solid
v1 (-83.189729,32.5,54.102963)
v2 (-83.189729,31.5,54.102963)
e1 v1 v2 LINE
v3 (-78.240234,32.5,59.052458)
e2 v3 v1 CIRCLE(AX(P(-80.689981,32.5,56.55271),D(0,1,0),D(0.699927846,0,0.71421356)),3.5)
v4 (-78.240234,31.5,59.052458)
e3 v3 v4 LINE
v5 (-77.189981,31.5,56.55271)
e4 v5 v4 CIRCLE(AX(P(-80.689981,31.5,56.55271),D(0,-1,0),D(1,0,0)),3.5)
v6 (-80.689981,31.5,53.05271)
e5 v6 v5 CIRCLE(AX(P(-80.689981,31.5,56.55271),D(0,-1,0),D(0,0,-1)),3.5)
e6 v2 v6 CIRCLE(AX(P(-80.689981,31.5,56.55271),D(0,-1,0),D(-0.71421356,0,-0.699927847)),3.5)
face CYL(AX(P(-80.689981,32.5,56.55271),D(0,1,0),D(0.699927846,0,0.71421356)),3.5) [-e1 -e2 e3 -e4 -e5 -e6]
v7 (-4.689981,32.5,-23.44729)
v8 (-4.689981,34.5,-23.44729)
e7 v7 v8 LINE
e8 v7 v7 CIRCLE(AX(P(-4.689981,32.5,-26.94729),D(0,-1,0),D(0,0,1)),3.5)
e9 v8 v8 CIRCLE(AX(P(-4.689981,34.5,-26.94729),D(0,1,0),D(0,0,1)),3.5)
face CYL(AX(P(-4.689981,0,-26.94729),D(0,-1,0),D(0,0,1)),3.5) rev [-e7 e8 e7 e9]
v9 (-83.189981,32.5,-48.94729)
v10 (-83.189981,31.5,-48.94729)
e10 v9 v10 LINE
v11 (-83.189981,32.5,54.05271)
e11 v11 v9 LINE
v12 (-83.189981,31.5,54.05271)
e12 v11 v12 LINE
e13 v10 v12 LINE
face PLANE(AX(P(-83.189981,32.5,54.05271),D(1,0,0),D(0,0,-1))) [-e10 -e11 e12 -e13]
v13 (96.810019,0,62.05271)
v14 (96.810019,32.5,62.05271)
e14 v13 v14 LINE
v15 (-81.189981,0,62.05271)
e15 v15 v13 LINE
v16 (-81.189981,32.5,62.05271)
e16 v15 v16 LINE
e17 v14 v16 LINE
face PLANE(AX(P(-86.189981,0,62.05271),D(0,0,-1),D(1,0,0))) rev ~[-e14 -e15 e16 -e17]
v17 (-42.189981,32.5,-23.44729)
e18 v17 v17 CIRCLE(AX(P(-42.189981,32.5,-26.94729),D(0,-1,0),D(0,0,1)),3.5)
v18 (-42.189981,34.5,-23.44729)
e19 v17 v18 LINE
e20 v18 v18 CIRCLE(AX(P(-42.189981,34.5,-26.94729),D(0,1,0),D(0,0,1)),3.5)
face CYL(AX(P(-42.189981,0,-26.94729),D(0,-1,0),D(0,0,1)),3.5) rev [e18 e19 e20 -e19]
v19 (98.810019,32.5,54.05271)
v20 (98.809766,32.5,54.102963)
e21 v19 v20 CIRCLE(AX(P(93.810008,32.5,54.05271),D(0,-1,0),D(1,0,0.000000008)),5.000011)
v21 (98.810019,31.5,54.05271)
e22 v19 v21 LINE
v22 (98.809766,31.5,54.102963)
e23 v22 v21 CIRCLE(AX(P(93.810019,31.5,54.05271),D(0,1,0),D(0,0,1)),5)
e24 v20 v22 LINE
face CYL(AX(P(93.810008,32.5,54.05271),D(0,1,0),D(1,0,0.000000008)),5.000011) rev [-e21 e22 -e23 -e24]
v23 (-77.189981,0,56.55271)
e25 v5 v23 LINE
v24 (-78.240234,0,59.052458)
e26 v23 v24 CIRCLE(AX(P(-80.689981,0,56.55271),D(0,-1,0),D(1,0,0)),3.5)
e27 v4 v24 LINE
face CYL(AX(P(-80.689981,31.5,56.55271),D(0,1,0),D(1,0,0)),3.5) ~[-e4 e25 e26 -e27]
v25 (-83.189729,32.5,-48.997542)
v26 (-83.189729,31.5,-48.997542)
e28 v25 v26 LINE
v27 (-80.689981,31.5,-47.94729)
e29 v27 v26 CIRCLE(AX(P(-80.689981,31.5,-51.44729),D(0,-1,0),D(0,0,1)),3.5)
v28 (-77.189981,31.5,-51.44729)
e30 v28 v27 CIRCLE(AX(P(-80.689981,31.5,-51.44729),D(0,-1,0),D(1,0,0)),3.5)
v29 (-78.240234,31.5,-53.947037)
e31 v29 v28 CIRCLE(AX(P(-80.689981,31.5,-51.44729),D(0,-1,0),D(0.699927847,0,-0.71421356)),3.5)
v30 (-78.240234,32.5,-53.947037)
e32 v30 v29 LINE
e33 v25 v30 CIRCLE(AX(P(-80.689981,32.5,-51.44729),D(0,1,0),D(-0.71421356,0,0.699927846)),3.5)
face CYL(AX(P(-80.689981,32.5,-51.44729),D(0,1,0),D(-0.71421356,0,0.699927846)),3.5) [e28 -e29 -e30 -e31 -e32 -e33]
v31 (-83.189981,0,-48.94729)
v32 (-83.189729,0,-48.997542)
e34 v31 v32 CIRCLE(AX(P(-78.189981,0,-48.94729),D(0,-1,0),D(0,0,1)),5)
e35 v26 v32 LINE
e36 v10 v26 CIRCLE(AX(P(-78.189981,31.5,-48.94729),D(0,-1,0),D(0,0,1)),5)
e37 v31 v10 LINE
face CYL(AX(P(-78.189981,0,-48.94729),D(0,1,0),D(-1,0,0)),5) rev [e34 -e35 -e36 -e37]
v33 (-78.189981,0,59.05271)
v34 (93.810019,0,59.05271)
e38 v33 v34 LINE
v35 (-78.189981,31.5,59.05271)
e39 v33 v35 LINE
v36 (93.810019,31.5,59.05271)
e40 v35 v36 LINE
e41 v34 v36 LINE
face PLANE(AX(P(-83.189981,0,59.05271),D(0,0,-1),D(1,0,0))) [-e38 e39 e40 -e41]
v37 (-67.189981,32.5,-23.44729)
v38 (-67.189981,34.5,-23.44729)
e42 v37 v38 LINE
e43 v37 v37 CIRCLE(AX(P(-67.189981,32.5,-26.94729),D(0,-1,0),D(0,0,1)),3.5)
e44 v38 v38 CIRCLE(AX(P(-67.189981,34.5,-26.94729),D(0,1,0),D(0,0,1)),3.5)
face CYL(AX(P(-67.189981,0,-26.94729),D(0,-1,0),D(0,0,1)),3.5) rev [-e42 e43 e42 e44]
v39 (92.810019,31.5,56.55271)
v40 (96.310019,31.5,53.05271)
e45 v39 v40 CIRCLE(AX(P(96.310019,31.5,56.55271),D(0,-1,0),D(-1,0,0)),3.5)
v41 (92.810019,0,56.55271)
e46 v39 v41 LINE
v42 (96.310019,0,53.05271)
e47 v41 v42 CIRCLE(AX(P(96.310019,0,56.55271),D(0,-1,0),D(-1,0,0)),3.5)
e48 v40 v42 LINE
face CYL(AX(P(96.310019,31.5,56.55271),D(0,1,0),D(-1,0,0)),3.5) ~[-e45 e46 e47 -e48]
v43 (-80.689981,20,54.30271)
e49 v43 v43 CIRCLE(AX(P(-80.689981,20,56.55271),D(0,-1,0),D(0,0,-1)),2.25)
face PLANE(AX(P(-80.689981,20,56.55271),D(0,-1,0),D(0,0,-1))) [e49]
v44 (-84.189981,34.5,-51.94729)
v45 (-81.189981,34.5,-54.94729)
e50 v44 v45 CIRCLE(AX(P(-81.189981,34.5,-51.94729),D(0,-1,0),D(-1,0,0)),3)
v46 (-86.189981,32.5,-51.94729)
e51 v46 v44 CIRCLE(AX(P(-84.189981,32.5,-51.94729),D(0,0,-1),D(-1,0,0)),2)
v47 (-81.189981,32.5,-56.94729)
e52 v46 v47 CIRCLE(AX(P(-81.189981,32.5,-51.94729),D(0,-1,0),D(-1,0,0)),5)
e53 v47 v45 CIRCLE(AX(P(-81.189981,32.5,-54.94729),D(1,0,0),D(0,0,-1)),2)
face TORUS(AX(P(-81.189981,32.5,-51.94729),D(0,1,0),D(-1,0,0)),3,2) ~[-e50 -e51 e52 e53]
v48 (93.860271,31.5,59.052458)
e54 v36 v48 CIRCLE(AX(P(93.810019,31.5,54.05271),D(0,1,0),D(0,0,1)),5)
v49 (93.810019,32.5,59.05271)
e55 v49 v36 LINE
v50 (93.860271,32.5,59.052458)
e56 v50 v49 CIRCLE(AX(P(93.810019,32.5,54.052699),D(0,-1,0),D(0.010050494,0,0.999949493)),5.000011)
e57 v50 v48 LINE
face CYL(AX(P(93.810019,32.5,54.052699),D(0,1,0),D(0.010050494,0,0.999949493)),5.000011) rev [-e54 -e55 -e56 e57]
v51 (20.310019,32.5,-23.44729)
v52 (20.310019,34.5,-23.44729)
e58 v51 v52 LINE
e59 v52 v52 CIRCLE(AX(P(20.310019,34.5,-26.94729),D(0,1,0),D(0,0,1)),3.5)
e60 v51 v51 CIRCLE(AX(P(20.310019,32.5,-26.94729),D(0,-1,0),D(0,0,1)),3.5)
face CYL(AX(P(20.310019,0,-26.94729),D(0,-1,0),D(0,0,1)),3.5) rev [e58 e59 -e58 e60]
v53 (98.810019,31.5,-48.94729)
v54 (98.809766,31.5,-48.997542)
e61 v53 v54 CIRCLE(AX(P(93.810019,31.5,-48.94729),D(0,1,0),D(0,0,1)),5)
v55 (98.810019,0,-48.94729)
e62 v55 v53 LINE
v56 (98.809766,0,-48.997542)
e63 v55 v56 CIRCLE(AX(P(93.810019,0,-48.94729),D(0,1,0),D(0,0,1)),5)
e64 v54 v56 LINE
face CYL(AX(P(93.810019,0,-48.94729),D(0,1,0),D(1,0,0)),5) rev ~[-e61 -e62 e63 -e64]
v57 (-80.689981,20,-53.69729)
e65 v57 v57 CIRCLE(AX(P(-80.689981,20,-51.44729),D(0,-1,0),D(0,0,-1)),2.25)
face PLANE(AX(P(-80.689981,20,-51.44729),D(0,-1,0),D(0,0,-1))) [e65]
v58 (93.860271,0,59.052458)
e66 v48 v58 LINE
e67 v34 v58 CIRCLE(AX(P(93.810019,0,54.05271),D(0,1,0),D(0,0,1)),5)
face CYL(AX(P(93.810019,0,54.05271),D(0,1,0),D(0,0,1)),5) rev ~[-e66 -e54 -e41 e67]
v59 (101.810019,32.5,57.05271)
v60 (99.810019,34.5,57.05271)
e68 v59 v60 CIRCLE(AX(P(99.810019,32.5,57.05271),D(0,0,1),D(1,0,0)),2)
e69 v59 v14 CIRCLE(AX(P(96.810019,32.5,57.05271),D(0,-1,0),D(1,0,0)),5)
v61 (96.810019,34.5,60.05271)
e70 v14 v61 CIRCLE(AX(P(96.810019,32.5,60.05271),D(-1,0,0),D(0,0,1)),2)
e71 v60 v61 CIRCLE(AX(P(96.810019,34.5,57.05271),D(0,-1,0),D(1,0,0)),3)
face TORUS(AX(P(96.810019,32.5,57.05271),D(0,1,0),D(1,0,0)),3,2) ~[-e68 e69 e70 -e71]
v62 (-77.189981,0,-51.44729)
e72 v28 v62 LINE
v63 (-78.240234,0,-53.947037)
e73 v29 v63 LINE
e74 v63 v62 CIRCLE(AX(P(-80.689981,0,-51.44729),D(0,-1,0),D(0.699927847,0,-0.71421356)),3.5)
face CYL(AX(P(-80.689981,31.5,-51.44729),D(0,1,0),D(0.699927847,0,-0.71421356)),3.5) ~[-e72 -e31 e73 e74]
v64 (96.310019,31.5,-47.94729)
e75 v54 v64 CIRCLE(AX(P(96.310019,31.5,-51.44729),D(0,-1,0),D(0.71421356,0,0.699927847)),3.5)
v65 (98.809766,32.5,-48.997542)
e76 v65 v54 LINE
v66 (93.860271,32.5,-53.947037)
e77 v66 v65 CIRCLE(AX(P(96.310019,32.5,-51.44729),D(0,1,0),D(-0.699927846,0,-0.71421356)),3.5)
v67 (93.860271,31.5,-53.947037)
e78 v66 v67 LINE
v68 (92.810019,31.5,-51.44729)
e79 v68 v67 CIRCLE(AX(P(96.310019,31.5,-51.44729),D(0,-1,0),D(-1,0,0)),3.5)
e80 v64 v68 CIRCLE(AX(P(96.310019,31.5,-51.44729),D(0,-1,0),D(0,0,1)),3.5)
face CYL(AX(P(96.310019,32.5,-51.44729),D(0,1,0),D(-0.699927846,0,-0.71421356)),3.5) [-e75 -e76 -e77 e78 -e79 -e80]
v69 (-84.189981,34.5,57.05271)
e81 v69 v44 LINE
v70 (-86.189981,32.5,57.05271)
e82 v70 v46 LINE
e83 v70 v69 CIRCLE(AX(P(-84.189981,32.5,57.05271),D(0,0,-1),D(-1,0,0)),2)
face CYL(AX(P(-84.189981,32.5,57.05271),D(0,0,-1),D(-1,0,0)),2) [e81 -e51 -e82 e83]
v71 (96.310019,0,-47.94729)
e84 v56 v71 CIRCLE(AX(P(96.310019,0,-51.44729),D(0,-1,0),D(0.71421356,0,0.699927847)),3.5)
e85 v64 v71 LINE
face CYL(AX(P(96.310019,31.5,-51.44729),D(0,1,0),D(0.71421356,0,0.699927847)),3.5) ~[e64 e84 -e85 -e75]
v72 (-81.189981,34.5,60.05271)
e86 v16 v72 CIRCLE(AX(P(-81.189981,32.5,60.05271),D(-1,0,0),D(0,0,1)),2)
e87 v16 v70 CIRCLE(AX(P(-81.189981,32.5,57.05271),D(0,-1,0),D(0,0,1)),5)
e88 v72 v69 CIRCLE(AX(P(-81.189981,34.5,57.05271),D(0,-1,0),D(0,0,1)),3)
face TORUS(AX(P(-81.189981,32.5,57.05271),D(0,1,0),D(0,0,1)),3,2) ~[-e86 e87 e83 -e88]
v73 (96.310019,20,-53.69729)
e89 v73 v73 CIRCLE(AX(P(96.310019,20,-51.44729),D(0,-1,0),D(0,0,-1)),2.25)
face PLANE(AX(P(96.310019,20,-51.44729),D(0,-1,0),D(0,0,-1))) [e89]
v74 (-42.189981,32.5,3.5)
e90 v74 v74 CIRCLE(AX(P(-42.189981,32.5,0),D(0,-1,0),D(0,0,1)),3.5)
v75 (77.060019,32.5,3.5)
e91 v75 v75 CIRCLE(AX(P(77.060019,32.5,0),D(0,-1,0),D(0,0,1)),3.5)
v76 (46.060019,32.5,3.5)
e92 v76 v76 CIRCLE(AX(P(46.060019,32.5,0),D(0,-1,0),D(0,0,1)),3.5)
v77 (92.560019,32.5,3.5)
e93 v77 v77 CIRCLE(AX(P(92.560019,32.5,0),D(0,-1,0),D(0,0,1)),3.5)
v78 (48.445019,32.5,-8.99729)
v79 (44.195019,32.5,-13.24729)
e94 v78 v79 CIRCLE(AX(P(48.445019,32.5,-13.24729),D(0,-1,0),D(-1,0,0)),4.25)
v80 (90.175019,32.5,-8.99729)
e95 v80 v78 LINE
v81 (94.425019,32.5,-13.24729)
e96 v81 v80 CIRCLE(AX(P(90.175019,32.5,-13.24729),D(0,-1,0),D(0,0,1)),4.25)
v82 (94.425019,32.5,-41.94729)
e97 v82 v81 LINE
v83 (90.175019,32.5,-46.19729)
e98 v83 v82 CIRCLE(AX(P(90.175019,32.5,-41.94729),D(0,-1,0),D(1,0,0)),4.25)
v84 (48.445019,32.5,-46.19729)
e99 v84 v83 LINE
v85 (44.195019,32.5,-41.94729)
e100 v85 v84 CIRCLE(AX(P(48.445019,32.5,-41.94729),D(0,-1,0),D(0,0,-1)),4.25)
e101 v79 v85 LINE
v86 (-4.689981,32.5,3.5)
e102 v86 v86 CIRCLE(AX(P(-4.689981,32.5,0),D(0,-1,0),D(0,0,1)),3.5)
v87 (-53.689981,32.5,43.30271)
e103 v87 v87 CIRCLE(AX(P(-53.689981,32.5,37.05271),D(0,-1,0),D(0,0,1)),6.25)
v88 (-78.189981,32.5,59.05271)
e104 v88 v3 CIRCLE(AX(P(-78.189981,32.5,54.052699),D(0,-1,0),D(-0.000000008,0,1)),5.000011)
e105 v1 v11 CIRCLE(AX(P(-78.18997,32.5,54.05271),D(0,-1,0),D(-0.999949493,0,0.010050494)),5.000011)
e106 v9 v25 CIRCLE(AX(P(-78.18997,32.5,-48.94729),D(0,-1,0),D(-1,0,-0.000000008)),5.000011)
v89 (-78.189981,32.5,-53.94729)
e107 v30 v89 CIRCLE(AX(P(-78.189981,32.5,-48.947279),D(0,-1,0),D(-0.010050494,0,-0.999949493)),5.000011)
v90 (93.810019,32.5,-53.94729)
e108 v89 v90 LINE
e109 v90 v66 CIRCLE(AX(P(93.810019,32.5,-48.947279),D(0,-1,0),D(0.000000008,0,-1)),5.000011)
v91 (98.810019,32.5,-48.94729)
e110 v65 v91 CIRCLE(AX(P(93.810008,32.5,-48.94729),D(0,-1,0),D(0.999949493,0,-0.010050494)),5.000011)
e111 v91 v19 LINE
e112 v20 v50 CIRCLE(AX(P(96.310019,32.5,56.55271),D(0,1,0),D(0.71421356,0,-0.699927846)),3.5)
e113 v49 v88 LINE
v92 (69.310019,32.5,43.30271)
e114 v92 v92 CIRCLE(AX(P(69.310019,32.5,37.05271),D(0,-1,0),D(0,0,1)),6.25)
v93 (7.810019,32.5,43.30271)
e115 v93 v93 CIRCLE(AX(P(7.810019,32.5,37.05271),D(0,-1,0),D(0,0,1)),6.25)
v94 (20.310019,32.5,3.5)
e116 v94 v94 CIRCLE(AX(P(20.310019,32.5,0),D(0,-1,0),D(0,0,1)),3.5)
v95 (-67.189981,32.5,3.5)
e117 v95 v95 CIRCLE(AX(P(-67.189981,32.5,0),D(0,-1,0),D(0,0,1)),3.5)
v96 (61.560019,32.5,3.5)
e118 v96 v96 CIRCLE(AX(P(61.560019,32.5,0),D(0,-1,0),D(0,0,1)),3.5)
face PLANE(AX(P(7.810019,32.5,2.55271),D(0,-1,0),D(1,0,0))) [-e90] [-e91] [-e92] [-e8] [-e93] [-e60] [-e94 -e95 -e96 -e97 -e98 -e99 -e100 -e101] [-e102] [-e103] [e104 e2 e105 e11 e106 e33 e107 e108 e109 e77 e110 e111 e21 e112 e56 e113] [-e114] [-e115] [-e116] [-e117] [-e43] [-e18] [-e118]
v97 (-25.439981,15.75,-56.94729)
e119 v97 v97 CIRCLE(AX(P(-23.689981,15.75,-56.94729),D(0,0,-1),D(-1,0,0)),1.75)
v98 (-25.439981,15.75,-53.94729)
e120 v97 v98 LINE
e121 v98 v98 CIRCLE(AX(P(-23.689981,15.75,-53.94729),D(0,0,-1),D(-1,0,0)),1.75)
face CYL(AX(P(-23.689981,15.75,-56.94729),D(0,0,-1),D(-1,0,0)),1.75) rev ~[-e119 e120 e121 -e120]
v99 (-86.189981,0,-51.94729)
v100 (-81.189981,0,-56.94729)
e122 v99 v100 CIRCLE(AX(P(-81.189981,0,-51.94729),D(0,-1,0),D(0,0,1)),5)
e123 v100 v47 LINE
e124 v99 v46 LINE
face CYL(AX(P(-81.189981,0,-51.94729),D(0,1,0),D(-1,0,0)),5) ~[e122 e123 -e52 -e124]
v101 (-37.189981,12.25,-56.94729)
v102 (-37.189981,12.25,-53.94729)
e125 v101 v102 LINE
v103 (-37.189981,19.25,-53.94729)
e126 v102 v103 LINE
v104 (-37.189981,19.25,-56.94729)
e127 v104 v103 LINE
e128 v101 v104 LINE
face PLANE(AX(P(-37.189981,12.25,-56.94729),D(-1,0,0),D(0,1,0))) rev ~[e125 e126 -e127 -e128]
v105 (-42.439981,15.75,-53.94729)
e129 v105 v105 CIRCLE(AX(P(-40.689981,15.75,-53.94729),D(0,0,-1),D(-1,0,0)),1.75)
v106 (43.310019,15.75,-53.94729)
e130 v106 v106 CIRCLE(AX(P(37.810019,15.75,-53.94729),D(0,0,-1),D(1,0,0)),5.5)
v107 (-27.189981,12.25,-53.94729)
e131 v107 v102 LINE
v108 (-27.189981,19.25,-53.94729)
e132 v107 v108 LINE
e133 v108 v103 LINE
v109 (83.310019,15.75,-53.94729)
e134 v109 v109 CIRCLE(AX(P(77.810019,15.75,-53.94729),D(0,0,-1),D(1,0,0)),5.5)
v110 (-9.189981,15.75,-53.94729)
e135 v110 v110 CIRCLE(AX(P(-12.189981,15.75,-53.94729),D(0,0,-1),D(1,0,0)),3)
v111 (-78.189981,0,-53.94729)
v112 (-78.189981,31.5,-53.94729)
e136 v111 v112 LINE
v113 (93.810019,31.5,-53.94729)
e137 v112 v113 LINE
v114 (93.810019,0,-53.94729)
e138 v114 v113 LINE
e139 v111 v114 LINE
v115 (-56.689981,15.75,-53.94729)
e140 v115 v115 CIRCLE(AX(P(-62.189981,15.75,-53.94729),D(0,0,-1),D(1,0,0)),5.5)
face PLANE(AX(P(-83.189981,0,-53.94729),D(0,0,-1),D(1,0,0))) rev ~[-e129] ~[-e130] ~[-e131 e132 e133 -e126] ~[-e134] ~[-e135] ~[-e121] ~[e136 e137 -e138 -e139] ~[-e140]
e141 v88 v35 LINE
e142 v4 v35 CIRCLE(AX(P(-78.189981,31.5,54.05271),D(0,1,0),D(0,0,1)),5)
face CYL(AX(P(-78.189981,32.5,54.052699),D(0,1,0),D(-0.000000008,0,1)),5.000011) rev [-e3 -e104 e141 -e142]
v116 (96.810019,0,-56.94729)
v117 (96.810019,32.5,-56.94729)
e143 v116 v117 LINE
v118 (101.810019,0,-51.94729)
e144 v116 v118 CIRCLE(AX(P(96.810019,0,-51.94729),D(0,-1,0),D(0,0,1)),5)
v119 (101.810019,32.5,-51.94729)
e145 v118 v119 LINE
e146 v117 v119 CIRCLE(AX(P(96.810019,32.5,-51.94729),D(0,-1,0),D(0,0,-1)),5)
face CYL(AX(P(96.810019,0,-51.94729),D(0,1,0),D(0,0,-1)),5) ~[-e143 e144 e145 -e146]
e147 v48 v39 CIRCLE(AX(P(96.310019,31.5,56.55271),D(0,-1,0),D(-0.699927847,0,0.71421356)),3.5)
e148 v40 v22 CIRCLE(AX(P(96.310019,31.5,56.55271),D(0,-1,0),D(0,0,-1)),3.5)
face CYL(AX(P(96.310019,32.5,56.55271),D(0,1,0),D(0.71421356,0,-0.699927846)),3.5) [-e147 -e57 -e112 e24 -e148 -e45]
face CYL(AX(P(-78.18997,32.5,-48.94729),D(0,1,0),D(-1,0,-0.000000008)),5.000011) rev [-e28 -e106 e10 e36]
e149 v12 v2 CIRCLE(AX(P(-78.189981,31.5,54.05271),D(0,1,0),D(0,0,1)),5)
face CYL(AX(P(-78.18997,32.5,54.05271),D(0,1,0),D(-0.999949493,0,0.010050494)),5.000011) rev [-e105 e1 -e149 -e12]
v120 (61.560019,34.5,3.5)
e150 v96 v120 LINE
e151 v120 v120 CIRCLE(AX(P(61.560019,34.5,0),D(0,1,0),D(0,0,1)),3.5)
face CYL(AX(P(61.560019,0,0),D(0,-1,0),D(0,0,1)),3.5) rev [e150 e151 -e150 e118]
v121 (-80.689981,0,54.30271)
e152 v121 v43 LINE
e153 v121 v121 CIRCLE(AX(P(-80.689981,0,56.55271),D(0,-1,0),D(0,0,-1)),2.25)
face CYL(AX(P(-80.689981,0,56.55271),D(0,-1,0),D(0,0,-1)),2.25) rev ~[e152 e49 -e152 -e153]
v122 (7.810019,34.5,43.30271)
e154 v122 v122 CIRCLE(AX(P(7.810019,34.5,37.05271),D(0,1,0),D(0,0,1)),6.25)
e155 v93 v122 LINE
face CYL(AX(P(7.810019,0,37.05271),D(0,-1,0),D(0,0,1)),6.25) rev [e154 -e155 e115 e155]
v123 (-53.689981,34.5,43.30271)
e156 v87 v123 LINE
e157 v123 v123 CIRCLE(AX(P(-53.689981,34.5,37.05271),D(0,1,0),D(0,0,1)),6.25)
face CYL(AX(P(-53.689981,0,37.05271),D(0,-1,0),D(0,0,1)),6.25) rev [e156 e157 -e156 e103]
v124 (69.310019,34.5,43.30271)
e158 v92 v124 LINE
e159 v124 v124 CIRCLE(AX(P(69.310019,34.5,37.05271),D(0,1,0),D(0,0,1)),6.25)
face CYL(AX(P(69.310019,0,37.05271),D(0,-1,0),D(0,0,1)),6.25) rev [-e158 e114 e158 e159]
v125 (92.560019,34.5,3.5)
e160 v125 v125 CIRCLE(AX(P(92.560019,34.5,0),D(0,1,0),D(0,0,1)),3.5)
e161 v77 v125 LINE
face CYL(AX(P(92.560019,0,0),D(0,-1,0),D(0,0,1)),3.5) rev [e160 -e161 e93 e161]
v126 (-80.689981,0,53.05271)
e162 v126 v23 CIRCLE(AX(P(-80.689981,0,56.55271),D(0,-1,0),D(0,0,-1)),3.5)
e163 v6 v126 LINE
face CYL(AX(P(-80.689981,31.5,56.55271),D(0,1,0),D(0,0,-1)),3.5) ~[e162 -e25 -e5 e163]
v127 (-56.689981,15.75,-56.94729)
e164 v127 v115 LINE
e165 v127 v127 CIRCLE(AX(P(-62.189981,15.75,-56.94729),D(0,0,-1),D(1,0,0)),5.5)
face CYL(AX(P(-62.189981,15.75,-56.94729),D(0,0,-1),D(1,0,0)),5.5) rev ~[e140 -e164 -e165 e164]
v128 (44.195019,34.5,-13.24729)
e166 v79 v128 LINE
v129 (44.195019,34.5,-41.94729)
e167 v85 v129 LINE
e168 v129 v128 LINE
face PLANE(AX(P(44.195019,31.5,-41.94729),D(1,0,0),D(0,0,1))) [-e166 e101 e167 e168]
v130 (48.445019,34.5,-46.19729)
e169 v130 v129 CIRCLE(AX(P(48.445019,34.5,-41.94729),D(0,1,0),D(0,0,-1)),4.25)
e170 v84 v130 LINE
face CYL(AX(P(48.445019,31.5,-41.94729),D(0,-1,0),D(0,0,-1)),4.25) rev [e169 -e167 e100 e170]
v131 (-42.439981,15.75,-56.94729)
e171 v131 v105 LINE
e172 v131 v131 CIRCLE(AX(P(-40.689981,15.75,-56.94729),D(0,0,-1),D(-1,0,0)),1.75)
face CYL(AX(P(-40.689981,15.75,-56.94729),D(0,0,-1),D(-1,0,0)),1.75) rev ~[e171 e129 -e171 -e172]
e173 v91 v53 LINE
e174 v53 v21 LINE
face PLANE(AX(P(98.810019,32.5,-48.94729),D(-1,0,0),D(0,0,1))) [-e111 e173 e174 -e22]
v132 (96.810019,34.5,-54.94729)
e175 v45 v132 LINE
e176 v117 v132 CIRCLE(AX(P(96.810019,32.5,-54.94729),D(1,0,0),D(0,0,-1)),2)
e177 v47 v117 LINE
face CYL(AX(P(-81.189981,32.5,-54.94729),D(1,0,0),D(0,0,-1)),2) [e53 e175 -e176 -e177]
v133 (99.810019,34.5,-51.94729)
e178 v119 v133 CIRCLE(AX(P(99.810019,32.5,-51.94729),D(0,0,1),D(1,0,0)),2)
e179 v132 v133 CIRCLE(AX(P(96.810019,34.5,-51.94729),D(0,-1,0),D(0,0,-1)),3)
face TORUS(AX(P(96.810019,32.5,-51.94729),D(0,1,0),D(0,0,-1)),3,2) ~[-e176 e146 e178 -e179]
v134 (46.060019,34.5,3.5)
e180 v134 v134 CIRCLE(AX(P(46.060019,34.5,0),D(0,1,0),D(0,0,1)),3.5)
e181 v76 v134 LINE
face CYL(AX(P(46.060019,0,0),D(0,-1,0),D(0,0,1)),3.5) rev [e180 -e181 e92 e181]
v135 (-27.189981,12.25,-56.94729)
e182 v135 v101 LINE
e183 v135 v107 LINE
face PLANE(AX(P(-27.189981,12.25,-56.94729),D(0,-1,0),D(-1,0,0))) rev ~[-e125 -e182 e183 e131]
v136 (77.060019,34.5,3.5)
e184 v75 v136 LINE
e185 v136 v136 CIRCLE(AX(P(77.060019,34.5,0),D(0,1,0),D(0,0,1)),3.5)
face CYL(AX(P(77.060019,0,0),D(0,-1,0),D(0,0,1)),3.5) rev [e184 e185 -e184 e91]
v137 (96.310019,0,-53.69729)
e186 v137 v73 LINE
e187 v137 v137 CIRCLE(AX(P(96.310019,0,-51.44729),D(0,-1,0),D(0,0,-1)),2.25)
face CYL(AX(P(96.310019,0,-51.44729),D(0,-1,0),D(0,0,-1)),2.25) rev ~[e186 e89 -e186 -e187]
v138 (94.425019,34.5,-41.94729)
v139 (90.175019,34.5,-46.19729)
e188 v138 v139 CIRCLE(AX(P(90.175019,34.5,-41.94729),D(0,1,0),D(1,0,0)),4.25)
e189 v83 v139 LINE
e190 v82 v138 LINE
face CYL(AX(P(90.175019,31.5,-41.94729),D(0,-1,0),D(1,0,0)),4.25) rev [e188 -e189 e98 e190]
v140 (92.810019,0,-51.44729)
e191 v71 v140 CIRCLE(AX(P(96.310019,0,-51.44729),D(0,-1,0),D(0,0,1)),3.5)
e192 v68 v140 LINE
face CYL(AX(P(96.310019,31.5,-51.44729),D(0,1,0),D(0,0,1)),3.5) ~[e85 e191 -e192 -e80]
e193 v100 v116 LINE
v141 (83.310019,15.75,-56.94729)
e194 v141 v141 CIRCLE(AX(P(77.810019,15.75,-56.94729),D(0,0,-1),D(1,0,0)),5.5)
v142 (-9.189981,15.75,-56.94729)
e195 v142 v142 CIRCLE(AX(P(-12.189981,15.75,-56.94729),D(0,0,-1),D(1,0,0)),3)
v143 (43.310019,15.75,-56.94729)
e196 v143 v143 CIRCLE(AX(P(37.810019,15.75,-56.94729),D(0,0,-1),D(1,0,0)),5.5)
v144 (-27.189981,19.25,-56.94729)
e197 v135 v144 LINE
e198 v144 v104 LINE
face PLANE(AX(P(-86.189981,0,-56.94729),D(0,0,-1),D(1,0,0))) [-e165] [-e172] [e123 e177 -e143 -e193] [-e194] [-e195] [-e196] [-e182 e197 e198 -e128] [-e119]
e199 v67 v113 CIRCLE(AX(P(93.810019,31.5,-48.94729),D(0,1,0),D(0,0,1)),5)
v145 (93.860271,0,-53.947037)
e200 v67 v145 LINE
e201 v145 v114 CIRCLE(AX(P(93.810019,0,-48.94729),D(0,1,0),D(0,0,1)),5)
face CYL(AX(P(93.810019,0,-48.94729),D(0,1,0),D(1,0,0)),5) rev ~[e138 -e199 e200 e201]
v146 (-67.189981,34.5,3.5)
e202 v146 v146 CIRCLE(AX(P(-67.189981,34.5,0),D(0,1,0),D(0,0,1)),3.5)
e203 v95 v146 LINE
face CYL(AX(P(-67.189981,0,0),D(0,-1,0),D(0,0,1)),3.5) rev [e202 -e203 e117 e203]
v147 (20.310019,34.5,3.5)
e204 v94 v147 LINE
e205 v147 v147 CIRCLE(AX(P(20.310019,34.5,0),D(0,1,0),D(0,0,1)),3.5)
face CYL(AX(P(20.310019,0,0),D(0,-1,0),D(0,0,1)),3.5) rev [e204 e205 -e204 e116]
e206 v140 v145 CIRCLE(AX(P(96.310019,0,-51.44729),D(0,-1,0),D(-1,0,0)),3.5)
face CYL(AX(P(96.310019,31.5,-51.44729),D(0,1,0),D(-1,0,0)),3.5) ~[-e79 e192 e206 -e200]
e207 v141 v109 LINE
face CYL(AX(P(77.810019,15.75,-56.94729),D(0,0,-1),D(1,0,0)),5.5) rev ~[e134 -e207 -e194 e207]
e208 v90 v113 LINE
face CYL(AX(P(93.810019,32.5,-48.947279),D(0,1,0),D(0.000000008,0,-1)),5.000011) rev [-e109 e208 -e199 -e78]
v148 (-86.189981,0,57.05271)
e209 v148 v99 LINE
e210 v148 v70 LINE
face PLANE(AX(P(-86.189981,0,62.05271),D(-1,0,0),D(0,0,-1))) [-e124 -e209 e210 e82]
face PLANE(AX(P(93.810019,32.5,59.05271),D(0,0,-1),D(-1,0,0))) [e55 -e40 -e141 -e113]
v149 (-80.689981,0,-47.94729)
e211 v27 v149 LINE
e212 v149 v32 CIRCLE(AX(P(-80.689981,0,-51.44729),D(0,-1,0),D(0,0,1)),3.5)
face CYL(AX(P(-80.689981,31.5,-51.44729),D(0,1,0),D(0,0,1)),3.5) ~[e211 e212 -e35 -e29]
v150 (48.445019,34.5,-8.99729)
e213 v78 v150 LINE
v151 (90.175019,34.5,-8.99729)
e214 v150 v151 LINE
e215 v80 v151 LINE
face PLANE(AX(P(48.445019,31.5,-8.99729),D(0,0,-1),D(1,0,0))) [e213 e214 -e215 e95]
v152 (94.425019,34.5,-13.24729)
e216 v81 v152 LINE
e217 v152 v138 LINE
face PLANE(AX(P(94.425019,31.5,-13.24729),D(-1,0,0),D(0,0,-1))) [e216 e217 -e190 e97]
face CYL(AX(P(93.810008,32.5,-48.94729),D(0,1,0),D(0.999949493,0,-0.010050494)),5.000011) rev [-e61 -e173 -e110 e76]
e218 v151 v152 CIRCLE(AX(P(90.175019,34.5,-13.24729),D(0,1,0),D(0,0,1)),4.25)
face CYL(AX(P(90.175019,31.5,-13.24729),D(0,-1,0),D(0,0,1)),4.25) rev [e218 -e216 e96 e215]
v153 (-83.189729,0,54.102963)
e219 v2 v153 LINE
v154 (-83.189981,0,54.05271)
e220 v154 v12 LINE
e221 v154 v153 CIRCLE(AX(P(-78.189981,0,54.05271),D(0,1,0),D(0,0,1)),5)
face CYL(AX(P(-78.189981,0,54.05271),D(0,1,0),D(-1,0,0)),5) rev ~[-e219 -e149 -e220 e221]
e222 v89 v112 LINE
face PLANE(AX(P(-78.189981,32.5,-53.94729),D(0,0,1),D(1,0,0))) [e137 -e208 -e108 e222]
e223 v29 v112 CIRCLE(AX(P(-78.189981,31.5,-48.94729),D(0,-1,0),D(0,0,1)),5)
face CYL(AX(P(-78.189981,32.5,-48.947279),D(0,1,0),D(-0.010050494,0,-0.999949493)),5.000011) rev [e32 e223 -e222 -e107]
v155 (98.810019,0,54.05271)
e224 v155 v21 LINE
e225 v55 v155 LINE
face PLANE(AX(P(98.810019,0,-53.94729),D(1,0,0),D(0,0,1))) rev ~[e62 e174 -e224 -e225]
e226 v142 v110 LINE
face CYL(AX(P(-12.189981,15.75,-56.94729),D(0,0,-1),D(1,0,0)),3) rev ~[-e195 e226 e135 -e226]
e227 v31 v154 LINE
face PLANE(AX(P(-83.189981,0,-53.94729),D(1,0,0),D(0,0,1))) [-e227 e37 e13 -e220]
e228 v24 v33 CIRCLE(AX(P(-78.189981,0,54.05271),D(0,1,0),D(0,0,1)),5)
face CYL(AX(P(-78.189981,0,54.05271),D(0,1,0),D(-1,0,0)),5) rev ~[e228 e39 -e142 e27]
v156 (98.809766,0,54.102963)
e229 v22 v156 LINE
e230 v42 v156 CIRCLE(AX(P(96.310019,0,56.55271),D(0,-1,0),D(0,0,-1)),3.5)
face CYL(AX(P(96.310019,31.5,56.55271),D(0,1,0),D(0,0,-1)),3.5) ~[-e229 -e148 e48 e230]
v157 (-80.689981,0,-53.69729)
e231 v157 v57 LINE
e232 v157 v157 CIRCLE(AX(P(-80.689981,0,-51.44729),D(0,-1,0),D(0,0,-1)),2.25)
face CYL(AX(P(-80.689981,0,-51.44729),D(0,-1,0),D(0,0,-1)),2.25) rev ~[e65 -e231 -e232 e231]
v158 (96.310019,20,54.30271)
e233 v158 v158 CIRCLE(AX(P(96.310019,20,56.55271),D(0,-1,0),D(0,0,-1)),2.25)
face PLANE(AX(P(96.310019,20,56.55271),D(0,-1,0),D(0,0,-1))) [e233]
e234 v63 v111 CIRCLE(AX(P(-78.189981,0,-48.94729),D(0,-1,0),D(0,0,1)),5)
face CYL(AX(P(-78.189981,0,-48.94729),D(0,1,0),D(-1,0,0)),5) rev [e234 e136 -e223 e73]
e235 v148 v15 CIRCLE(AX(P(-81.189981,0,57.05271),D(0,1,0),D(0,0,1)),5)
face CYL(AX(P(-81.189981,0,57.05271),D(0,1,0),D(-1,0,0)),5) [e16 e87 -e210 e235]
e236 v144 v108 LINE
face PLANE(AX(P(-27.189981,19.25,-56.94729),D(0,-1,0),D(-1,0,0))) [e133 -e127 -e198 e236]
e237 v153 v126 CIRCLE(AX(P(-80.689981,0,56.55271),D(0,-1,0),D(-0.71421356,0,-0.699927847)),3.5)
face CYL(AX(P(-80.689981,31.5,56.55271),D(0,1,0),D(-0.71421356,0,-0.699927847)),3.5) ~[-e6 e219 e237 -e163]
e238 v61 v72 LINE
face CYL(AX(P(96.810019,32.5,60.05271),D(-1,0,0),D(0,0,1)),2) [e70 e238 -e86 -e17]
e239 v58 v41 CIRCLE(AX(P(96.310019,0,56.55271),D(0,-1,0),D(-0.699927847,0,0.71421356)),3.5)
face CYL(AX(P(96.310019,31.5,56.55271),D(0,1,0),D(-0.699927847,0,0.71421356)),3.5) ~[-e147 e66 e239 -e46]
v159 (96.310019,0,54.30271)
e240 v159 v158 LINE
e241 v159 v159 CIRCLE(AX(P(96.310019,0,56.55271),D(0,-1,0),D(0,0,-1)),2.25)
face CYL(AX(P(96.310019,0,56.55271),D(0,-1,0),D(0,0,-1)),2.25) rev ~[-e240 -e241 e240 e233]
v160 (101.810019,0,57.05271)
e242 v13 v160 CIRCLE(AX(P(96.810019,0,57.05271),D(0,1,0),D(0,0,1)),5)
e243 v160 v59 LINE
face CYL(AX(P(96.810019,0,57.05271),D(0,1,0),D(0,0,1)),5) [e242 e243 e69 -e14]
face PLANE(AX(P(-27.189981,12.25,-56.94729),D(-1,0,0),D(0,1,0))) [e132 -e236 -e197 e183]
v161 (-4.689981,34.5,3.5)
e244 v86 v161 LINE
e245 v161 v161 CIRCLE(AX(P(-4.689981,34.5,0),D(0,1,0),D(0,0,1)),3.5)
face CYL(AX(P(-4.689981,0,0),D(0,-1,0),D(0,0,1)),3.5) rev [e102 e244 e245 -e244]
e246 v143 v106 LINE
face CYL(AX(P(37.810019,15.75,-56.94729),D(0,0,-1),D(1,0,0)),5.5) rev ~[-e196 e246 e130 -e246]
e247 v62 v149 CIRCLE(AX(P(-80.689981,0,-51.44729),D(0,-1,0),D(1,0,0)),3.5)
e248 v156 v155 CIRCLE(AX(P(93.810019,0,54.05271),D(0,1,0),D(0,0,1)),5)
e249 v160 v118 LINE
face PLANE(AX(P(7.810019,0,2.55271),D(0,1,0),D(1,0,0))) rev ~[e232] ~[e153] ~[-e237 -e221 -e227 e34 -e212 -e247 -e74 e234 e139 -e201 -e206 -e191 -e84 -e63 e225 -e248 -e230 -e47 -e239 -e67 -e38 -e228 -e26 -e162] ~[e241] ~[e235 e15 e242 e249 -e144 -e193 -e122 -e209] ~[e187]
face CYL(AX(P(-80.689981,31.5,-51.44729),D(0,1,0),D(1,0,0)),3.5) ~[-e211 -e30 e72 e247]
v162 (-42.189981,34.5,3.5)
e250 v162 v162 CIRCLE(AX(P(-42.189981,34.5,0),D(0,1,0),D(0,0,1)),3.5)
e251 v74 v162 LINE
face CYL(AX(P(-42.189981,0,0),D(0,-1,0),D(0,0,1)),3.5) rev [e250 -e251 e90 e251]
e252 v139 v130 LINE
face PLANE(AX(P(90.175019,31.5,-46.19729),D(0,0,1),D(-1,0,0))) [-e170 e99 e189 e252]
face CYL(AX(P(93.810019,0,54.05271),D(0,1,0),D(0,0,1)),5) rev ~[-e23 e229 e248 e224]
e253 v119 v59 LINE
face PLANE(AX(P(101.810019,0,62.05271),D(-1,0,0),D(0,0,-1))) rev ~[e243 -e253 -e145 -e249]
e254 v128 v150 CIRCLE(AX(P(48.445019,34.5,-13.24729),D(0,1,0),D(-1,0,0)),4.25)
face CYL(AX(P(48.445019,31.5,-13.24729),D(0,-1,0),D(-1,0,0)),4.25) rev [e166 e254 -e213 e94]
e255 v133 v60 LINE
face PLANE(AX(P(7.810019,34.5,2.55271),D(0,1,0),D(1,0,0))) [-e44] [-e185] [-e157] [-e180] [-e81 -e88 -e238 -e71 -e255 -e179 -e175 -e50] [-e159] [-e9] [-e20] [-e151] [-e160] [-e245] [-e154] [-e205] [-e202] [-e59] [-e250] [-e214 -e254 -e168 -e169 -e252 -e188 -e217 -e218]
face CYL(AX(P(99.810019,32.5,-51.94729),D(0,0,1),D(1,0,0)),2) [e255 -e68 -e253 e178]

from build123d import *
from build123d.topology import SkipClean

# Parameters (mm, degrees)
SKETCH_1_W          = 188
SKETCH_1_H          = 119
SKETCH_1_R          = 3.5
SKETCH_1_R_2        = 6.25
EXTRUDE_1_DEPTH     = 34.5
SKETCH_3_W          = 182
SKETCH_3_H          = 113
CUT_EXTRUDE_2_DEPTH = 31.5
CUT_EXTRUDE_START   = -3
CUT_EXTRUDE_1_DEPTH = 3
FILLET_1_R          = 5
EXTRUDE_2_DEPTH     = 31.5
SKETCH_6_R          = 2.25
CUT_EXTRUDE_3_DEPTH = 20
FILLET_2_R          = 2
SKETCH_7_W          = 10
SKETCH_7_H          = 7
SKETCH_7_R          = 1.75
CUT_EXTRUDE_4_DEPTH = 20
CUT_EXTRUDE_START_2 = -1
CUT_EXTRUDE_5_DEPTH = 1


with BuildPart() as part:
    # 草图1 → 凸台-拉伸1 (new body)
    with BuildSketch(Plane(origin=(0, 0, 0), x_dir=(1, 0, 0), z_dir=(0, 1, 0))):
        with Locations((7.810018722, -2.552710251)):
            Rectangle(SKETCH_1_W, SKETCH_1_H)
        with Locations(Location((-67.189981278, 26.947289749, 0), (0, 0, 270))):
            Circle(SKETCH_1_R, mode=Mode.SUBTRACT)
        with Locations(Location((-42.189981278, 26.947289749, 0), (0, 0, 270))):
            Circle(SKETCH_1_R, mode=Mode.SUBTRACT)
        with Locations(Location((-67.189981278, 0, 0), (0, 0, 270))):
            Circle(SKETCH_1_R, mode=Mode.SUBTRACT)
        with Locations(Location((-42.189981278, 0, 0), (0, 0, 270))):
            Circle(SKETCH_1_R, mode=Mode.SUBTRACT)
        with Locations(Location((-4.689981278, 26.947289749, 0), (0, 0, 270))):
            Circle(SKETCH_1_R, mode=Mode.SUBTRACT)
        with Locations(Location((20.310018722, 26.947289749, 0), (0, 0, 270))):
            Circle(SKETCH_1_R, mode=Mode.SUBTRACT)
        with Locations(Location((-4.689981278, 0, 0), (0, 0, 270))):
            Circle(SKETCH_1_R, mode=Mode.SUBTRACT)
        with Locations(Location((20.310018722, 0, 0), (0, 0, 270))):
            Circle(SKETCH_1_R, mode=Mode.SUBTRACT)
        with Locations(Location((46.060018722, 0, 0), (0, 0, 270))):
            Circle(SKETCH_1_R, mode=Mode.SUBTRACT)
        with Locations(Location((61.560018722, 0, 0), (0, 0, 270))):
            Circle(SKETCH_1_R, mode=Mode.SUBTRACT)
        with Locations(Location((77.060018722, 0, 0), (0, 0, 270))):
            Circle(SKETCH_1_R, mode=Mode.SUBTRACT)
        with Locations(Location((92.560018722, 0, 0), (0, 0, 270))):
            Circle(SKETCH_1_R, mode=Mode.SUBTRACT)
        with Locations(Location((-53.689981278, -37.052710251, 0), (0, 0, 270))):
            Circle(SKETCH_1_R_2, mode=Mode.SUBTRACT)
        with Locations(Location((7.810018722, -37.052710251, 0), (0, 0, 270))):
            Circle(SKETCH_1_R_2, mode=Mode.SUBTRACT)
        with Locations(Location((69.310018722, -37.052710251, 0), (0, 0, 270))):
            Circle(SKETCH_1_R_2, mode=Mode.SUBTRACT)
        with BuildLine():
            Line((48.445018722, 45.947289749), (90.175018722, 45.947289749))
            ThreePointArc((90.175018722, 45.947289749), (93.003445847, 44.775716874), (94.175018722, 41.947289749))
            Line((94.175018722, 41.947289749), (94.175018722, 13.247289749))
            ThreePointArc((94.175018722, 13.247289749), (93.003445847, 10.418862624), (90.175018722, 9.247289749))
            Line((90.175018722, 9.247289749), (48.445018722, 9.247289749))
            ThreePointArc((48.445018722, 9.247289749), (45.616591597, 10.418862624), (44.445018722, 13.247289749))
            Line((44.445018722, 13.247289749), (44.445018722, 41.947289749))
            ThreePointArc((44.445018722, 41.947289749), (45.616591597, 44.775716874), (48.445018722, 45.947289749))
        make_face(mode=Mode.SUBTRACT)
    extrude(amount=EXTRUDE_1_DEPTH)

    # 草图3 → 切除-拉伸2 (cut)
    with BuildSketch(Plane.XZ):
        with Locations((7.810018722, 2.552710251)):
            Rectangle(SKETCH_3_W, SKETCH_3_H)
    extrude(amount=-CUT_EXTRUDE_2_DEPTH, mode=Mode.SUBTRACT)

    # 草图4 → 切除-拉伸-薄壁1 (cut)
    with BuildSketch(Plane(origin=(0, 34.5, 0), x_dir=(1, 0, 0), z_dir=(0, 1, 0)).offset(CUT_EXTRUDE_START)):
        with BuildLine():
            Line((94.425018722, 13.247289749), (94.425018722, 41.947289749))
            ThreePointArc((94.425018722, 41.947289749), (93.180222542, 44.952493569), (90.175018722, 46.197289749))
            Line((90.175018722, 46.197289749), (48.445018722, 46.197289749))
            ThreePointArc((48.445018722, 46.197289749), (45.439814902, 44.952493569), (44.195018722, 41.947289749))
            Line((44.195018722, 41.947289749), (44.195018722, 13.247289749))
            ThreePointArc((44.195018722, 13.247289749), (45.439814902, 10.242085929), (48.445018722, 8.997289749))
            Line((48.445018722, 8.997289749), (90.175018722, 8.997289749))
            ThreePointArc((90.175018722, 8.997289749), (93.180222542, 10.242085929), (94.425018722, 13.247289749))
        make_face()
        with BuildLine():
            Line((94.175018722, 13.247289749), (94.175018722, 41.947289749))
            ThreePointArc((94.175018722, 41.947289749), (93.003445847, 44.775716874), (90.175018722, 45.947289749))
            Line((90.175018722, 45.947289749), (48.445018722, 45.947289749))
            ThreePointArc((48.445018722, 45.947289749), (45.616591597, 44.775716874), (44.445018722, 41.947289749))
            Line((44.445018722, 41.947289749), (44.445018722, 13.247289749))
            ThreePointArc((44.445018722, 13.247289749), (45.616591597, 10.418862624), (48.445018722, 9.247289749))
            Line((48.445018722, 9.247289749), (90.175018722, 9.247289749))
            ThreePointArc((90.175018722, 9.247289749), (93.003445847, 10.418862624), (94.175018722, 13.247289749))
        make_face(mode=Mode.SUBTRACT)
    extrude(amount=CUT_EXTRUDE_1_DEPTH, mode=Mode.SUBTRACT)

    # 圆角1
    fillet_1_edges = [part.edges().sort_by_distance(p)[0] for p in [
        (98.810018722, 15.75, -53.947289749),
        (98.810018722, 15.75, 59.052710251),
        (-83.189981278, 15.75, 59.052710251),
        (-83.189981278, 15.75, -53.947289749),
        (-86.189981278, 17.25, -56.947289749),
        (101.810018722, 17.25, -56.947289749),
        (101.810018722, 17.25, 62.052710251),
        (-86.189981278, 17.25, 62.052710251),
    ]]
    fillet(fillet_1_edges, radius=FILLET_1_R)

    # 草图5 → 凸台-拉伸2 (add)
    with BuildSketch(Plane.XZ.offset(-31.5)):
        with BuildLine():
            ThreePointArc((-83.18972874, 54.102962789), (-82.045688452, 53.325938171), (-80.689981278, 53.052710251))
            Line((-80.689981278, 53.052710251), (-80.689981278, 56.552710251))
            Line((-80.689981278, 56.552710251), (-77.189981278, 56.552710251))
            ThreePointArc((-77.189981278, 56.552710251), (-77.463209198, 57.908417425), (-78.240233816, 59.052457713))
            ThreePointArc((-78.240233816, 59.052457713), (-81.725515184, 57.588244157), (-83.18972874, 54.102962789))
        make_face()
        with BuildLine():
            Line((-80.689981278, 56.552710251), (-80.689981278, 53.052710251))
            ThreePointArc((-80.689981278, 53.052710251), (-78.215107544, 54.077836517), (-77.189981278, 56.552710251))
            Line((-77.189981278, 56.552710251), (-80.689981278, 56.552710251))
        make_face()
        with BuildLine():
            Line((-77.189981278, -51.447289749), (-80.689981278, -51.447289749))
            Line((-80.689981278, -51.447289749), (-80.689981278, -47.947289749))
            ThreePointArc((-80.689981278, -47.947289749), (-82.045688452, -48.220517669), (-83.18972874, -48.997542287))
            ThreePointArc((-83.18972874, -48.997542287), (-81.725515184, -52.482823655), (-78.240233816, -53.947037211))
            ThreePointArc((-78.240233816, -53.947037211), (-77.463209198, -52.802996923), (-77.189981278, -51.447289749))
        make_face()
        with BuildLine():
            Line((-80.689981278, -47.947289749), (-80.689981278, -51.447289749))
            Line((-80.689981278, -51.447289749), (-77.189981278, -51.447289749))
            ThreePointArc((-77.189981278, -51.447289749), (-78.215107544, -48.972416015), (-80.689981278, -47.947289749))
        make_face()
        with BuildLine():
            ThreePointArc((92.810018722, 56.552710251), (93.835144988, 54.077836517), (96.310018722, 53.052710251))
            Line((96.310018722, 53.052710251), (96.310018722, 56.552710251))
            Line((96.310018722, 56.552710251), (92.810018722, 56.552710251))
        make_face()
        with BuildLine():
            Line((96.310018722, 56.552710251), (96.310018722, 53.052710251))
            ThreePointArc((96.310018722, 53.052710251), (97.665725896, 53.325938171), (98.809766184, 54.102962789))
            ThreePointArc((98.809766184, 54.102962789), (97.345552628, 57.588244157), (93.86027126, 59.052457713))
            ThreePointArc((93.86027126, 59.052457713), (93.083246642, 57.908417425), (92.810018722, 56.552710251))
            Line((92.810018722, 56.552710251), (96.310018722, 56.552710251))
        make_face()
        with BuildLine():
            ThreePointArc((96.310018722, -47.947289749), (93.835144988, -48.972416015), (92.810018722, -51.447289749))
            Line((92.810018722, -51.447289749), (96.310018722, -51.447289749))
            Line((96.310018722, -51.447289749), (96.310018722, -47.947289749))
        make_face()
        with BuildLine():
            Line((96.310018722, -51.447289749), (92.810018722, -51.447289749))
            ThreePointArc((92.810018722, -51.447289749), (93.083246642, -52.802996923), (93.86027126, -53.947037211))
            ThreePointArc((93.86027126, -53.947037211), (97.345552628, -52.482823655), (98.809766184, -48.997542287))
            ThreePointArc((98.809766184, -48.997542287), (97.665725896, -48.220517669), (96.310018722, -47.947289749))
            Line((96.310018722, -47.947289749), (96.310018722, -51.447289749))
        make_face()
    extrude(amount=EXTRUDE_2_DEPTH)

    # 草图6 → 切除-拉伸3 (cut)
    with BuildSketch(Plane.XZ):
        with Locations(Location((96.310018722, -51.447289749, 0), (0, 0, 270))):
            Circle(SKETCH_6_R)
        with Locations(Location((96.310018722, 56.552710251, 0), (0, 0, 270))):
            Circle(SKETCH_6_R)
        with Locations(Location((-80.689981278, 56.552710251, 0), (0, 0, 270))):
            Circle(SKETCH_6_R)
        with Locations(Location((-80.689981278, -51.447289749, 0), (0, 0, 270))):
            Circle(SKETCH_6_R)
    extrude(amount=-CUT_EXTRUDE_3_DEPTH, mode=Mode.SUBTRACT)

    # 圆角2
    fillet_2_edges = [part.edges().sort_by_distance(p)[0] for p in [
        (-86.189981278, 34.5, 2.552710251),
        (7.810018722, 34.5, -56.947289749),
        (7.810018722, 34.5, 62.052710251),
        (101.810018722, 34.5, 2.552710251),
        (100.345552628, 34.5, 60.588244157),
        (100.345552628, 34.5, -55.482823655),
        (-84.725515184, 34.5, 60.588244157),
        (-84.725515184, 34.5, -55.482823655),
    ]]
    fillet(fillet_2_edges, radius=FILLET_2_R)

    # 草图7 → 切除-拉伸4 (cut)
    with BuildSketch(Plane(origin=(0, 0, -56.947289749), x_dir=(-1, 0, 0), z_dir=(0, 0, -1))):
        with BuildLine():
            ThreePointArc((67.689981278, 15.75), (62.189981278, 21.25), (56.689981278, 15.75))
            Line((56.689981278, 15.75), (67.689981278, 15.75))
        make_face()
        with BuildLine():
            Line((67.689981278, 15.75), (56.689981278, 15.75))
            ThreePointArc((56.689981278, 15.75), (62.189981278, 10.25), (67.689981278, 15.75))
        make_face()
        with BuildLine():
            ThreePointArc((-72.310018722, 15.75), (-77.810018722, 21.25), (-83.310018722, 15.75))
            Line((-83.310018722, 15.75), (-72.310018722, 15.75))
        make_face()
        with BuildLine():
            Line((-72.310018722, 15.75), (-83.310018722, 15.75))
            ThreePointArc((-83.310018722, 15.75), (-77.810018722, 10.25), (-72.310018722, 15.75))
        make_face()
        with BuildLine():
            ThreePointArc((-32.310018722, 15.75), (-37.810018722, 21.25), (-43.310018722, 15.75))
            Line((-43.310018722, 15.75), (-32.310018722, 15.75))
        make_face()
        with BuildLine():
            Line((-32.310018722, 15.75), (-43.310018722, 15.75))
            ThreePointArc((-43.310018722, 15.75), (-37.810018722, 10.25), (-32.310018722, 15.75))
        make_face()
        with BuildLine():
            ThreePointArc((15.189981278, 15.75), (12.189981278, 18.75), (9.189981278, 15.75))
            Line((9.189981278, 15.75), (15.189981278, 15.75))
        make_face()
        with BuildLine():
            Line((15.189981278, 15.75), (9.189981278, 15.75))
            ThreePointArc((9.189981278, 15.75), (12.189981278, 12.75), (15.189981278, 15.75))
        make_face()
        with Locations((32.189981278, 15.75)):
            Rectangle(SKETCH_7_W, SKETCH_7_H)
        with Locations((23.689981278, 15.75)):
            Circle(SKETCH_7_R)
        with Locations((40.689981278, 15.75)):
            Circle(SKETCH_7_R)
    extrude(amount=-CUT_EXTRUDE_4_DEPTH, mode=Mode.SUBTRACT)

    # 草图10 → 切除-拉伸5 (cut)
    with SkipClean():  # the faces are left unmerged after this step: merging them gives an invalid solid
        with BuildSketch(Plane.XZ.offset(-31.5).offset(CUT_EXTRUDE_START_2)):
            with BuildLine():
                Line((98.810018722, -48.947289749), (98.810018722, 54.052710251))
                ThreePointArc((98.810018722, 54.052710251), (98.809955587, 54.077836837), (98.809766184, 54.102962789))
                ThreePointArc((98.809766184, 54.102962789), (93.835144988, 54.077836517), (93.86027126, 59.052457713))
                ThreePointArc((93.86027126, 59.052457713), (93.835145308, 59.052647116), (93.810018722, 59.052710251))
                Line((93.810018722, 59.052710251), (-78.189981278, 59.052710251))
                ThreePointArc((-78.189981278, 59.052710251), (-78.215107864, 59.052647116), (-78.240233816, 59.052457713))
                ThreePointArc((-78.240233816, 59.052457713), (-78.215107544, 54.077836517), (-83.18972874, 54.102962789))
                ThreePointArc((-83.18972874, 54.102962789), (-83.189918143, 54.077836837), (-83.189981278, 54.052710251))
                Line((-83.189981278, 54.052710251), (-83.189981278, -48.947289749))
                ThreePointArc((-83.189981278, -48.947289749), (-83.189918143, -48.972416335), (-83.18972874, -48.997542287))
                ThreePointArc((-83.18972874, -48.997542287), (-78.215107544, -48.972416015), (-78.240233816, -53.947037211))
                ThreePointArc((-78.240233816, -53.947037211), (-78.215107864, -53.947226614), (-78.189981278, -53.947289749))
                Line((-78.189981278, -53.947289749), (93.810018722, -53.947289749))
                ThreePointArc((93.810018722, -53.947289749), (93.835145308, -53.947226614), (93.86027126, -53.947037211))
                ThreePointArc((93.86027126, -53.947037211), (93.835144988, -48.972416015), (98.809766184, -48.997542287))
                ThreePointArc((98.809766184, -48.997542287), (98.809955587, -48.972416335), (98.810018722, -48.947289749))
            make_face()
        extrude(amount=CUT_EXTRUDE_5_DEPTH, mode=Mode.SUBTRACT)


solid = part.part
